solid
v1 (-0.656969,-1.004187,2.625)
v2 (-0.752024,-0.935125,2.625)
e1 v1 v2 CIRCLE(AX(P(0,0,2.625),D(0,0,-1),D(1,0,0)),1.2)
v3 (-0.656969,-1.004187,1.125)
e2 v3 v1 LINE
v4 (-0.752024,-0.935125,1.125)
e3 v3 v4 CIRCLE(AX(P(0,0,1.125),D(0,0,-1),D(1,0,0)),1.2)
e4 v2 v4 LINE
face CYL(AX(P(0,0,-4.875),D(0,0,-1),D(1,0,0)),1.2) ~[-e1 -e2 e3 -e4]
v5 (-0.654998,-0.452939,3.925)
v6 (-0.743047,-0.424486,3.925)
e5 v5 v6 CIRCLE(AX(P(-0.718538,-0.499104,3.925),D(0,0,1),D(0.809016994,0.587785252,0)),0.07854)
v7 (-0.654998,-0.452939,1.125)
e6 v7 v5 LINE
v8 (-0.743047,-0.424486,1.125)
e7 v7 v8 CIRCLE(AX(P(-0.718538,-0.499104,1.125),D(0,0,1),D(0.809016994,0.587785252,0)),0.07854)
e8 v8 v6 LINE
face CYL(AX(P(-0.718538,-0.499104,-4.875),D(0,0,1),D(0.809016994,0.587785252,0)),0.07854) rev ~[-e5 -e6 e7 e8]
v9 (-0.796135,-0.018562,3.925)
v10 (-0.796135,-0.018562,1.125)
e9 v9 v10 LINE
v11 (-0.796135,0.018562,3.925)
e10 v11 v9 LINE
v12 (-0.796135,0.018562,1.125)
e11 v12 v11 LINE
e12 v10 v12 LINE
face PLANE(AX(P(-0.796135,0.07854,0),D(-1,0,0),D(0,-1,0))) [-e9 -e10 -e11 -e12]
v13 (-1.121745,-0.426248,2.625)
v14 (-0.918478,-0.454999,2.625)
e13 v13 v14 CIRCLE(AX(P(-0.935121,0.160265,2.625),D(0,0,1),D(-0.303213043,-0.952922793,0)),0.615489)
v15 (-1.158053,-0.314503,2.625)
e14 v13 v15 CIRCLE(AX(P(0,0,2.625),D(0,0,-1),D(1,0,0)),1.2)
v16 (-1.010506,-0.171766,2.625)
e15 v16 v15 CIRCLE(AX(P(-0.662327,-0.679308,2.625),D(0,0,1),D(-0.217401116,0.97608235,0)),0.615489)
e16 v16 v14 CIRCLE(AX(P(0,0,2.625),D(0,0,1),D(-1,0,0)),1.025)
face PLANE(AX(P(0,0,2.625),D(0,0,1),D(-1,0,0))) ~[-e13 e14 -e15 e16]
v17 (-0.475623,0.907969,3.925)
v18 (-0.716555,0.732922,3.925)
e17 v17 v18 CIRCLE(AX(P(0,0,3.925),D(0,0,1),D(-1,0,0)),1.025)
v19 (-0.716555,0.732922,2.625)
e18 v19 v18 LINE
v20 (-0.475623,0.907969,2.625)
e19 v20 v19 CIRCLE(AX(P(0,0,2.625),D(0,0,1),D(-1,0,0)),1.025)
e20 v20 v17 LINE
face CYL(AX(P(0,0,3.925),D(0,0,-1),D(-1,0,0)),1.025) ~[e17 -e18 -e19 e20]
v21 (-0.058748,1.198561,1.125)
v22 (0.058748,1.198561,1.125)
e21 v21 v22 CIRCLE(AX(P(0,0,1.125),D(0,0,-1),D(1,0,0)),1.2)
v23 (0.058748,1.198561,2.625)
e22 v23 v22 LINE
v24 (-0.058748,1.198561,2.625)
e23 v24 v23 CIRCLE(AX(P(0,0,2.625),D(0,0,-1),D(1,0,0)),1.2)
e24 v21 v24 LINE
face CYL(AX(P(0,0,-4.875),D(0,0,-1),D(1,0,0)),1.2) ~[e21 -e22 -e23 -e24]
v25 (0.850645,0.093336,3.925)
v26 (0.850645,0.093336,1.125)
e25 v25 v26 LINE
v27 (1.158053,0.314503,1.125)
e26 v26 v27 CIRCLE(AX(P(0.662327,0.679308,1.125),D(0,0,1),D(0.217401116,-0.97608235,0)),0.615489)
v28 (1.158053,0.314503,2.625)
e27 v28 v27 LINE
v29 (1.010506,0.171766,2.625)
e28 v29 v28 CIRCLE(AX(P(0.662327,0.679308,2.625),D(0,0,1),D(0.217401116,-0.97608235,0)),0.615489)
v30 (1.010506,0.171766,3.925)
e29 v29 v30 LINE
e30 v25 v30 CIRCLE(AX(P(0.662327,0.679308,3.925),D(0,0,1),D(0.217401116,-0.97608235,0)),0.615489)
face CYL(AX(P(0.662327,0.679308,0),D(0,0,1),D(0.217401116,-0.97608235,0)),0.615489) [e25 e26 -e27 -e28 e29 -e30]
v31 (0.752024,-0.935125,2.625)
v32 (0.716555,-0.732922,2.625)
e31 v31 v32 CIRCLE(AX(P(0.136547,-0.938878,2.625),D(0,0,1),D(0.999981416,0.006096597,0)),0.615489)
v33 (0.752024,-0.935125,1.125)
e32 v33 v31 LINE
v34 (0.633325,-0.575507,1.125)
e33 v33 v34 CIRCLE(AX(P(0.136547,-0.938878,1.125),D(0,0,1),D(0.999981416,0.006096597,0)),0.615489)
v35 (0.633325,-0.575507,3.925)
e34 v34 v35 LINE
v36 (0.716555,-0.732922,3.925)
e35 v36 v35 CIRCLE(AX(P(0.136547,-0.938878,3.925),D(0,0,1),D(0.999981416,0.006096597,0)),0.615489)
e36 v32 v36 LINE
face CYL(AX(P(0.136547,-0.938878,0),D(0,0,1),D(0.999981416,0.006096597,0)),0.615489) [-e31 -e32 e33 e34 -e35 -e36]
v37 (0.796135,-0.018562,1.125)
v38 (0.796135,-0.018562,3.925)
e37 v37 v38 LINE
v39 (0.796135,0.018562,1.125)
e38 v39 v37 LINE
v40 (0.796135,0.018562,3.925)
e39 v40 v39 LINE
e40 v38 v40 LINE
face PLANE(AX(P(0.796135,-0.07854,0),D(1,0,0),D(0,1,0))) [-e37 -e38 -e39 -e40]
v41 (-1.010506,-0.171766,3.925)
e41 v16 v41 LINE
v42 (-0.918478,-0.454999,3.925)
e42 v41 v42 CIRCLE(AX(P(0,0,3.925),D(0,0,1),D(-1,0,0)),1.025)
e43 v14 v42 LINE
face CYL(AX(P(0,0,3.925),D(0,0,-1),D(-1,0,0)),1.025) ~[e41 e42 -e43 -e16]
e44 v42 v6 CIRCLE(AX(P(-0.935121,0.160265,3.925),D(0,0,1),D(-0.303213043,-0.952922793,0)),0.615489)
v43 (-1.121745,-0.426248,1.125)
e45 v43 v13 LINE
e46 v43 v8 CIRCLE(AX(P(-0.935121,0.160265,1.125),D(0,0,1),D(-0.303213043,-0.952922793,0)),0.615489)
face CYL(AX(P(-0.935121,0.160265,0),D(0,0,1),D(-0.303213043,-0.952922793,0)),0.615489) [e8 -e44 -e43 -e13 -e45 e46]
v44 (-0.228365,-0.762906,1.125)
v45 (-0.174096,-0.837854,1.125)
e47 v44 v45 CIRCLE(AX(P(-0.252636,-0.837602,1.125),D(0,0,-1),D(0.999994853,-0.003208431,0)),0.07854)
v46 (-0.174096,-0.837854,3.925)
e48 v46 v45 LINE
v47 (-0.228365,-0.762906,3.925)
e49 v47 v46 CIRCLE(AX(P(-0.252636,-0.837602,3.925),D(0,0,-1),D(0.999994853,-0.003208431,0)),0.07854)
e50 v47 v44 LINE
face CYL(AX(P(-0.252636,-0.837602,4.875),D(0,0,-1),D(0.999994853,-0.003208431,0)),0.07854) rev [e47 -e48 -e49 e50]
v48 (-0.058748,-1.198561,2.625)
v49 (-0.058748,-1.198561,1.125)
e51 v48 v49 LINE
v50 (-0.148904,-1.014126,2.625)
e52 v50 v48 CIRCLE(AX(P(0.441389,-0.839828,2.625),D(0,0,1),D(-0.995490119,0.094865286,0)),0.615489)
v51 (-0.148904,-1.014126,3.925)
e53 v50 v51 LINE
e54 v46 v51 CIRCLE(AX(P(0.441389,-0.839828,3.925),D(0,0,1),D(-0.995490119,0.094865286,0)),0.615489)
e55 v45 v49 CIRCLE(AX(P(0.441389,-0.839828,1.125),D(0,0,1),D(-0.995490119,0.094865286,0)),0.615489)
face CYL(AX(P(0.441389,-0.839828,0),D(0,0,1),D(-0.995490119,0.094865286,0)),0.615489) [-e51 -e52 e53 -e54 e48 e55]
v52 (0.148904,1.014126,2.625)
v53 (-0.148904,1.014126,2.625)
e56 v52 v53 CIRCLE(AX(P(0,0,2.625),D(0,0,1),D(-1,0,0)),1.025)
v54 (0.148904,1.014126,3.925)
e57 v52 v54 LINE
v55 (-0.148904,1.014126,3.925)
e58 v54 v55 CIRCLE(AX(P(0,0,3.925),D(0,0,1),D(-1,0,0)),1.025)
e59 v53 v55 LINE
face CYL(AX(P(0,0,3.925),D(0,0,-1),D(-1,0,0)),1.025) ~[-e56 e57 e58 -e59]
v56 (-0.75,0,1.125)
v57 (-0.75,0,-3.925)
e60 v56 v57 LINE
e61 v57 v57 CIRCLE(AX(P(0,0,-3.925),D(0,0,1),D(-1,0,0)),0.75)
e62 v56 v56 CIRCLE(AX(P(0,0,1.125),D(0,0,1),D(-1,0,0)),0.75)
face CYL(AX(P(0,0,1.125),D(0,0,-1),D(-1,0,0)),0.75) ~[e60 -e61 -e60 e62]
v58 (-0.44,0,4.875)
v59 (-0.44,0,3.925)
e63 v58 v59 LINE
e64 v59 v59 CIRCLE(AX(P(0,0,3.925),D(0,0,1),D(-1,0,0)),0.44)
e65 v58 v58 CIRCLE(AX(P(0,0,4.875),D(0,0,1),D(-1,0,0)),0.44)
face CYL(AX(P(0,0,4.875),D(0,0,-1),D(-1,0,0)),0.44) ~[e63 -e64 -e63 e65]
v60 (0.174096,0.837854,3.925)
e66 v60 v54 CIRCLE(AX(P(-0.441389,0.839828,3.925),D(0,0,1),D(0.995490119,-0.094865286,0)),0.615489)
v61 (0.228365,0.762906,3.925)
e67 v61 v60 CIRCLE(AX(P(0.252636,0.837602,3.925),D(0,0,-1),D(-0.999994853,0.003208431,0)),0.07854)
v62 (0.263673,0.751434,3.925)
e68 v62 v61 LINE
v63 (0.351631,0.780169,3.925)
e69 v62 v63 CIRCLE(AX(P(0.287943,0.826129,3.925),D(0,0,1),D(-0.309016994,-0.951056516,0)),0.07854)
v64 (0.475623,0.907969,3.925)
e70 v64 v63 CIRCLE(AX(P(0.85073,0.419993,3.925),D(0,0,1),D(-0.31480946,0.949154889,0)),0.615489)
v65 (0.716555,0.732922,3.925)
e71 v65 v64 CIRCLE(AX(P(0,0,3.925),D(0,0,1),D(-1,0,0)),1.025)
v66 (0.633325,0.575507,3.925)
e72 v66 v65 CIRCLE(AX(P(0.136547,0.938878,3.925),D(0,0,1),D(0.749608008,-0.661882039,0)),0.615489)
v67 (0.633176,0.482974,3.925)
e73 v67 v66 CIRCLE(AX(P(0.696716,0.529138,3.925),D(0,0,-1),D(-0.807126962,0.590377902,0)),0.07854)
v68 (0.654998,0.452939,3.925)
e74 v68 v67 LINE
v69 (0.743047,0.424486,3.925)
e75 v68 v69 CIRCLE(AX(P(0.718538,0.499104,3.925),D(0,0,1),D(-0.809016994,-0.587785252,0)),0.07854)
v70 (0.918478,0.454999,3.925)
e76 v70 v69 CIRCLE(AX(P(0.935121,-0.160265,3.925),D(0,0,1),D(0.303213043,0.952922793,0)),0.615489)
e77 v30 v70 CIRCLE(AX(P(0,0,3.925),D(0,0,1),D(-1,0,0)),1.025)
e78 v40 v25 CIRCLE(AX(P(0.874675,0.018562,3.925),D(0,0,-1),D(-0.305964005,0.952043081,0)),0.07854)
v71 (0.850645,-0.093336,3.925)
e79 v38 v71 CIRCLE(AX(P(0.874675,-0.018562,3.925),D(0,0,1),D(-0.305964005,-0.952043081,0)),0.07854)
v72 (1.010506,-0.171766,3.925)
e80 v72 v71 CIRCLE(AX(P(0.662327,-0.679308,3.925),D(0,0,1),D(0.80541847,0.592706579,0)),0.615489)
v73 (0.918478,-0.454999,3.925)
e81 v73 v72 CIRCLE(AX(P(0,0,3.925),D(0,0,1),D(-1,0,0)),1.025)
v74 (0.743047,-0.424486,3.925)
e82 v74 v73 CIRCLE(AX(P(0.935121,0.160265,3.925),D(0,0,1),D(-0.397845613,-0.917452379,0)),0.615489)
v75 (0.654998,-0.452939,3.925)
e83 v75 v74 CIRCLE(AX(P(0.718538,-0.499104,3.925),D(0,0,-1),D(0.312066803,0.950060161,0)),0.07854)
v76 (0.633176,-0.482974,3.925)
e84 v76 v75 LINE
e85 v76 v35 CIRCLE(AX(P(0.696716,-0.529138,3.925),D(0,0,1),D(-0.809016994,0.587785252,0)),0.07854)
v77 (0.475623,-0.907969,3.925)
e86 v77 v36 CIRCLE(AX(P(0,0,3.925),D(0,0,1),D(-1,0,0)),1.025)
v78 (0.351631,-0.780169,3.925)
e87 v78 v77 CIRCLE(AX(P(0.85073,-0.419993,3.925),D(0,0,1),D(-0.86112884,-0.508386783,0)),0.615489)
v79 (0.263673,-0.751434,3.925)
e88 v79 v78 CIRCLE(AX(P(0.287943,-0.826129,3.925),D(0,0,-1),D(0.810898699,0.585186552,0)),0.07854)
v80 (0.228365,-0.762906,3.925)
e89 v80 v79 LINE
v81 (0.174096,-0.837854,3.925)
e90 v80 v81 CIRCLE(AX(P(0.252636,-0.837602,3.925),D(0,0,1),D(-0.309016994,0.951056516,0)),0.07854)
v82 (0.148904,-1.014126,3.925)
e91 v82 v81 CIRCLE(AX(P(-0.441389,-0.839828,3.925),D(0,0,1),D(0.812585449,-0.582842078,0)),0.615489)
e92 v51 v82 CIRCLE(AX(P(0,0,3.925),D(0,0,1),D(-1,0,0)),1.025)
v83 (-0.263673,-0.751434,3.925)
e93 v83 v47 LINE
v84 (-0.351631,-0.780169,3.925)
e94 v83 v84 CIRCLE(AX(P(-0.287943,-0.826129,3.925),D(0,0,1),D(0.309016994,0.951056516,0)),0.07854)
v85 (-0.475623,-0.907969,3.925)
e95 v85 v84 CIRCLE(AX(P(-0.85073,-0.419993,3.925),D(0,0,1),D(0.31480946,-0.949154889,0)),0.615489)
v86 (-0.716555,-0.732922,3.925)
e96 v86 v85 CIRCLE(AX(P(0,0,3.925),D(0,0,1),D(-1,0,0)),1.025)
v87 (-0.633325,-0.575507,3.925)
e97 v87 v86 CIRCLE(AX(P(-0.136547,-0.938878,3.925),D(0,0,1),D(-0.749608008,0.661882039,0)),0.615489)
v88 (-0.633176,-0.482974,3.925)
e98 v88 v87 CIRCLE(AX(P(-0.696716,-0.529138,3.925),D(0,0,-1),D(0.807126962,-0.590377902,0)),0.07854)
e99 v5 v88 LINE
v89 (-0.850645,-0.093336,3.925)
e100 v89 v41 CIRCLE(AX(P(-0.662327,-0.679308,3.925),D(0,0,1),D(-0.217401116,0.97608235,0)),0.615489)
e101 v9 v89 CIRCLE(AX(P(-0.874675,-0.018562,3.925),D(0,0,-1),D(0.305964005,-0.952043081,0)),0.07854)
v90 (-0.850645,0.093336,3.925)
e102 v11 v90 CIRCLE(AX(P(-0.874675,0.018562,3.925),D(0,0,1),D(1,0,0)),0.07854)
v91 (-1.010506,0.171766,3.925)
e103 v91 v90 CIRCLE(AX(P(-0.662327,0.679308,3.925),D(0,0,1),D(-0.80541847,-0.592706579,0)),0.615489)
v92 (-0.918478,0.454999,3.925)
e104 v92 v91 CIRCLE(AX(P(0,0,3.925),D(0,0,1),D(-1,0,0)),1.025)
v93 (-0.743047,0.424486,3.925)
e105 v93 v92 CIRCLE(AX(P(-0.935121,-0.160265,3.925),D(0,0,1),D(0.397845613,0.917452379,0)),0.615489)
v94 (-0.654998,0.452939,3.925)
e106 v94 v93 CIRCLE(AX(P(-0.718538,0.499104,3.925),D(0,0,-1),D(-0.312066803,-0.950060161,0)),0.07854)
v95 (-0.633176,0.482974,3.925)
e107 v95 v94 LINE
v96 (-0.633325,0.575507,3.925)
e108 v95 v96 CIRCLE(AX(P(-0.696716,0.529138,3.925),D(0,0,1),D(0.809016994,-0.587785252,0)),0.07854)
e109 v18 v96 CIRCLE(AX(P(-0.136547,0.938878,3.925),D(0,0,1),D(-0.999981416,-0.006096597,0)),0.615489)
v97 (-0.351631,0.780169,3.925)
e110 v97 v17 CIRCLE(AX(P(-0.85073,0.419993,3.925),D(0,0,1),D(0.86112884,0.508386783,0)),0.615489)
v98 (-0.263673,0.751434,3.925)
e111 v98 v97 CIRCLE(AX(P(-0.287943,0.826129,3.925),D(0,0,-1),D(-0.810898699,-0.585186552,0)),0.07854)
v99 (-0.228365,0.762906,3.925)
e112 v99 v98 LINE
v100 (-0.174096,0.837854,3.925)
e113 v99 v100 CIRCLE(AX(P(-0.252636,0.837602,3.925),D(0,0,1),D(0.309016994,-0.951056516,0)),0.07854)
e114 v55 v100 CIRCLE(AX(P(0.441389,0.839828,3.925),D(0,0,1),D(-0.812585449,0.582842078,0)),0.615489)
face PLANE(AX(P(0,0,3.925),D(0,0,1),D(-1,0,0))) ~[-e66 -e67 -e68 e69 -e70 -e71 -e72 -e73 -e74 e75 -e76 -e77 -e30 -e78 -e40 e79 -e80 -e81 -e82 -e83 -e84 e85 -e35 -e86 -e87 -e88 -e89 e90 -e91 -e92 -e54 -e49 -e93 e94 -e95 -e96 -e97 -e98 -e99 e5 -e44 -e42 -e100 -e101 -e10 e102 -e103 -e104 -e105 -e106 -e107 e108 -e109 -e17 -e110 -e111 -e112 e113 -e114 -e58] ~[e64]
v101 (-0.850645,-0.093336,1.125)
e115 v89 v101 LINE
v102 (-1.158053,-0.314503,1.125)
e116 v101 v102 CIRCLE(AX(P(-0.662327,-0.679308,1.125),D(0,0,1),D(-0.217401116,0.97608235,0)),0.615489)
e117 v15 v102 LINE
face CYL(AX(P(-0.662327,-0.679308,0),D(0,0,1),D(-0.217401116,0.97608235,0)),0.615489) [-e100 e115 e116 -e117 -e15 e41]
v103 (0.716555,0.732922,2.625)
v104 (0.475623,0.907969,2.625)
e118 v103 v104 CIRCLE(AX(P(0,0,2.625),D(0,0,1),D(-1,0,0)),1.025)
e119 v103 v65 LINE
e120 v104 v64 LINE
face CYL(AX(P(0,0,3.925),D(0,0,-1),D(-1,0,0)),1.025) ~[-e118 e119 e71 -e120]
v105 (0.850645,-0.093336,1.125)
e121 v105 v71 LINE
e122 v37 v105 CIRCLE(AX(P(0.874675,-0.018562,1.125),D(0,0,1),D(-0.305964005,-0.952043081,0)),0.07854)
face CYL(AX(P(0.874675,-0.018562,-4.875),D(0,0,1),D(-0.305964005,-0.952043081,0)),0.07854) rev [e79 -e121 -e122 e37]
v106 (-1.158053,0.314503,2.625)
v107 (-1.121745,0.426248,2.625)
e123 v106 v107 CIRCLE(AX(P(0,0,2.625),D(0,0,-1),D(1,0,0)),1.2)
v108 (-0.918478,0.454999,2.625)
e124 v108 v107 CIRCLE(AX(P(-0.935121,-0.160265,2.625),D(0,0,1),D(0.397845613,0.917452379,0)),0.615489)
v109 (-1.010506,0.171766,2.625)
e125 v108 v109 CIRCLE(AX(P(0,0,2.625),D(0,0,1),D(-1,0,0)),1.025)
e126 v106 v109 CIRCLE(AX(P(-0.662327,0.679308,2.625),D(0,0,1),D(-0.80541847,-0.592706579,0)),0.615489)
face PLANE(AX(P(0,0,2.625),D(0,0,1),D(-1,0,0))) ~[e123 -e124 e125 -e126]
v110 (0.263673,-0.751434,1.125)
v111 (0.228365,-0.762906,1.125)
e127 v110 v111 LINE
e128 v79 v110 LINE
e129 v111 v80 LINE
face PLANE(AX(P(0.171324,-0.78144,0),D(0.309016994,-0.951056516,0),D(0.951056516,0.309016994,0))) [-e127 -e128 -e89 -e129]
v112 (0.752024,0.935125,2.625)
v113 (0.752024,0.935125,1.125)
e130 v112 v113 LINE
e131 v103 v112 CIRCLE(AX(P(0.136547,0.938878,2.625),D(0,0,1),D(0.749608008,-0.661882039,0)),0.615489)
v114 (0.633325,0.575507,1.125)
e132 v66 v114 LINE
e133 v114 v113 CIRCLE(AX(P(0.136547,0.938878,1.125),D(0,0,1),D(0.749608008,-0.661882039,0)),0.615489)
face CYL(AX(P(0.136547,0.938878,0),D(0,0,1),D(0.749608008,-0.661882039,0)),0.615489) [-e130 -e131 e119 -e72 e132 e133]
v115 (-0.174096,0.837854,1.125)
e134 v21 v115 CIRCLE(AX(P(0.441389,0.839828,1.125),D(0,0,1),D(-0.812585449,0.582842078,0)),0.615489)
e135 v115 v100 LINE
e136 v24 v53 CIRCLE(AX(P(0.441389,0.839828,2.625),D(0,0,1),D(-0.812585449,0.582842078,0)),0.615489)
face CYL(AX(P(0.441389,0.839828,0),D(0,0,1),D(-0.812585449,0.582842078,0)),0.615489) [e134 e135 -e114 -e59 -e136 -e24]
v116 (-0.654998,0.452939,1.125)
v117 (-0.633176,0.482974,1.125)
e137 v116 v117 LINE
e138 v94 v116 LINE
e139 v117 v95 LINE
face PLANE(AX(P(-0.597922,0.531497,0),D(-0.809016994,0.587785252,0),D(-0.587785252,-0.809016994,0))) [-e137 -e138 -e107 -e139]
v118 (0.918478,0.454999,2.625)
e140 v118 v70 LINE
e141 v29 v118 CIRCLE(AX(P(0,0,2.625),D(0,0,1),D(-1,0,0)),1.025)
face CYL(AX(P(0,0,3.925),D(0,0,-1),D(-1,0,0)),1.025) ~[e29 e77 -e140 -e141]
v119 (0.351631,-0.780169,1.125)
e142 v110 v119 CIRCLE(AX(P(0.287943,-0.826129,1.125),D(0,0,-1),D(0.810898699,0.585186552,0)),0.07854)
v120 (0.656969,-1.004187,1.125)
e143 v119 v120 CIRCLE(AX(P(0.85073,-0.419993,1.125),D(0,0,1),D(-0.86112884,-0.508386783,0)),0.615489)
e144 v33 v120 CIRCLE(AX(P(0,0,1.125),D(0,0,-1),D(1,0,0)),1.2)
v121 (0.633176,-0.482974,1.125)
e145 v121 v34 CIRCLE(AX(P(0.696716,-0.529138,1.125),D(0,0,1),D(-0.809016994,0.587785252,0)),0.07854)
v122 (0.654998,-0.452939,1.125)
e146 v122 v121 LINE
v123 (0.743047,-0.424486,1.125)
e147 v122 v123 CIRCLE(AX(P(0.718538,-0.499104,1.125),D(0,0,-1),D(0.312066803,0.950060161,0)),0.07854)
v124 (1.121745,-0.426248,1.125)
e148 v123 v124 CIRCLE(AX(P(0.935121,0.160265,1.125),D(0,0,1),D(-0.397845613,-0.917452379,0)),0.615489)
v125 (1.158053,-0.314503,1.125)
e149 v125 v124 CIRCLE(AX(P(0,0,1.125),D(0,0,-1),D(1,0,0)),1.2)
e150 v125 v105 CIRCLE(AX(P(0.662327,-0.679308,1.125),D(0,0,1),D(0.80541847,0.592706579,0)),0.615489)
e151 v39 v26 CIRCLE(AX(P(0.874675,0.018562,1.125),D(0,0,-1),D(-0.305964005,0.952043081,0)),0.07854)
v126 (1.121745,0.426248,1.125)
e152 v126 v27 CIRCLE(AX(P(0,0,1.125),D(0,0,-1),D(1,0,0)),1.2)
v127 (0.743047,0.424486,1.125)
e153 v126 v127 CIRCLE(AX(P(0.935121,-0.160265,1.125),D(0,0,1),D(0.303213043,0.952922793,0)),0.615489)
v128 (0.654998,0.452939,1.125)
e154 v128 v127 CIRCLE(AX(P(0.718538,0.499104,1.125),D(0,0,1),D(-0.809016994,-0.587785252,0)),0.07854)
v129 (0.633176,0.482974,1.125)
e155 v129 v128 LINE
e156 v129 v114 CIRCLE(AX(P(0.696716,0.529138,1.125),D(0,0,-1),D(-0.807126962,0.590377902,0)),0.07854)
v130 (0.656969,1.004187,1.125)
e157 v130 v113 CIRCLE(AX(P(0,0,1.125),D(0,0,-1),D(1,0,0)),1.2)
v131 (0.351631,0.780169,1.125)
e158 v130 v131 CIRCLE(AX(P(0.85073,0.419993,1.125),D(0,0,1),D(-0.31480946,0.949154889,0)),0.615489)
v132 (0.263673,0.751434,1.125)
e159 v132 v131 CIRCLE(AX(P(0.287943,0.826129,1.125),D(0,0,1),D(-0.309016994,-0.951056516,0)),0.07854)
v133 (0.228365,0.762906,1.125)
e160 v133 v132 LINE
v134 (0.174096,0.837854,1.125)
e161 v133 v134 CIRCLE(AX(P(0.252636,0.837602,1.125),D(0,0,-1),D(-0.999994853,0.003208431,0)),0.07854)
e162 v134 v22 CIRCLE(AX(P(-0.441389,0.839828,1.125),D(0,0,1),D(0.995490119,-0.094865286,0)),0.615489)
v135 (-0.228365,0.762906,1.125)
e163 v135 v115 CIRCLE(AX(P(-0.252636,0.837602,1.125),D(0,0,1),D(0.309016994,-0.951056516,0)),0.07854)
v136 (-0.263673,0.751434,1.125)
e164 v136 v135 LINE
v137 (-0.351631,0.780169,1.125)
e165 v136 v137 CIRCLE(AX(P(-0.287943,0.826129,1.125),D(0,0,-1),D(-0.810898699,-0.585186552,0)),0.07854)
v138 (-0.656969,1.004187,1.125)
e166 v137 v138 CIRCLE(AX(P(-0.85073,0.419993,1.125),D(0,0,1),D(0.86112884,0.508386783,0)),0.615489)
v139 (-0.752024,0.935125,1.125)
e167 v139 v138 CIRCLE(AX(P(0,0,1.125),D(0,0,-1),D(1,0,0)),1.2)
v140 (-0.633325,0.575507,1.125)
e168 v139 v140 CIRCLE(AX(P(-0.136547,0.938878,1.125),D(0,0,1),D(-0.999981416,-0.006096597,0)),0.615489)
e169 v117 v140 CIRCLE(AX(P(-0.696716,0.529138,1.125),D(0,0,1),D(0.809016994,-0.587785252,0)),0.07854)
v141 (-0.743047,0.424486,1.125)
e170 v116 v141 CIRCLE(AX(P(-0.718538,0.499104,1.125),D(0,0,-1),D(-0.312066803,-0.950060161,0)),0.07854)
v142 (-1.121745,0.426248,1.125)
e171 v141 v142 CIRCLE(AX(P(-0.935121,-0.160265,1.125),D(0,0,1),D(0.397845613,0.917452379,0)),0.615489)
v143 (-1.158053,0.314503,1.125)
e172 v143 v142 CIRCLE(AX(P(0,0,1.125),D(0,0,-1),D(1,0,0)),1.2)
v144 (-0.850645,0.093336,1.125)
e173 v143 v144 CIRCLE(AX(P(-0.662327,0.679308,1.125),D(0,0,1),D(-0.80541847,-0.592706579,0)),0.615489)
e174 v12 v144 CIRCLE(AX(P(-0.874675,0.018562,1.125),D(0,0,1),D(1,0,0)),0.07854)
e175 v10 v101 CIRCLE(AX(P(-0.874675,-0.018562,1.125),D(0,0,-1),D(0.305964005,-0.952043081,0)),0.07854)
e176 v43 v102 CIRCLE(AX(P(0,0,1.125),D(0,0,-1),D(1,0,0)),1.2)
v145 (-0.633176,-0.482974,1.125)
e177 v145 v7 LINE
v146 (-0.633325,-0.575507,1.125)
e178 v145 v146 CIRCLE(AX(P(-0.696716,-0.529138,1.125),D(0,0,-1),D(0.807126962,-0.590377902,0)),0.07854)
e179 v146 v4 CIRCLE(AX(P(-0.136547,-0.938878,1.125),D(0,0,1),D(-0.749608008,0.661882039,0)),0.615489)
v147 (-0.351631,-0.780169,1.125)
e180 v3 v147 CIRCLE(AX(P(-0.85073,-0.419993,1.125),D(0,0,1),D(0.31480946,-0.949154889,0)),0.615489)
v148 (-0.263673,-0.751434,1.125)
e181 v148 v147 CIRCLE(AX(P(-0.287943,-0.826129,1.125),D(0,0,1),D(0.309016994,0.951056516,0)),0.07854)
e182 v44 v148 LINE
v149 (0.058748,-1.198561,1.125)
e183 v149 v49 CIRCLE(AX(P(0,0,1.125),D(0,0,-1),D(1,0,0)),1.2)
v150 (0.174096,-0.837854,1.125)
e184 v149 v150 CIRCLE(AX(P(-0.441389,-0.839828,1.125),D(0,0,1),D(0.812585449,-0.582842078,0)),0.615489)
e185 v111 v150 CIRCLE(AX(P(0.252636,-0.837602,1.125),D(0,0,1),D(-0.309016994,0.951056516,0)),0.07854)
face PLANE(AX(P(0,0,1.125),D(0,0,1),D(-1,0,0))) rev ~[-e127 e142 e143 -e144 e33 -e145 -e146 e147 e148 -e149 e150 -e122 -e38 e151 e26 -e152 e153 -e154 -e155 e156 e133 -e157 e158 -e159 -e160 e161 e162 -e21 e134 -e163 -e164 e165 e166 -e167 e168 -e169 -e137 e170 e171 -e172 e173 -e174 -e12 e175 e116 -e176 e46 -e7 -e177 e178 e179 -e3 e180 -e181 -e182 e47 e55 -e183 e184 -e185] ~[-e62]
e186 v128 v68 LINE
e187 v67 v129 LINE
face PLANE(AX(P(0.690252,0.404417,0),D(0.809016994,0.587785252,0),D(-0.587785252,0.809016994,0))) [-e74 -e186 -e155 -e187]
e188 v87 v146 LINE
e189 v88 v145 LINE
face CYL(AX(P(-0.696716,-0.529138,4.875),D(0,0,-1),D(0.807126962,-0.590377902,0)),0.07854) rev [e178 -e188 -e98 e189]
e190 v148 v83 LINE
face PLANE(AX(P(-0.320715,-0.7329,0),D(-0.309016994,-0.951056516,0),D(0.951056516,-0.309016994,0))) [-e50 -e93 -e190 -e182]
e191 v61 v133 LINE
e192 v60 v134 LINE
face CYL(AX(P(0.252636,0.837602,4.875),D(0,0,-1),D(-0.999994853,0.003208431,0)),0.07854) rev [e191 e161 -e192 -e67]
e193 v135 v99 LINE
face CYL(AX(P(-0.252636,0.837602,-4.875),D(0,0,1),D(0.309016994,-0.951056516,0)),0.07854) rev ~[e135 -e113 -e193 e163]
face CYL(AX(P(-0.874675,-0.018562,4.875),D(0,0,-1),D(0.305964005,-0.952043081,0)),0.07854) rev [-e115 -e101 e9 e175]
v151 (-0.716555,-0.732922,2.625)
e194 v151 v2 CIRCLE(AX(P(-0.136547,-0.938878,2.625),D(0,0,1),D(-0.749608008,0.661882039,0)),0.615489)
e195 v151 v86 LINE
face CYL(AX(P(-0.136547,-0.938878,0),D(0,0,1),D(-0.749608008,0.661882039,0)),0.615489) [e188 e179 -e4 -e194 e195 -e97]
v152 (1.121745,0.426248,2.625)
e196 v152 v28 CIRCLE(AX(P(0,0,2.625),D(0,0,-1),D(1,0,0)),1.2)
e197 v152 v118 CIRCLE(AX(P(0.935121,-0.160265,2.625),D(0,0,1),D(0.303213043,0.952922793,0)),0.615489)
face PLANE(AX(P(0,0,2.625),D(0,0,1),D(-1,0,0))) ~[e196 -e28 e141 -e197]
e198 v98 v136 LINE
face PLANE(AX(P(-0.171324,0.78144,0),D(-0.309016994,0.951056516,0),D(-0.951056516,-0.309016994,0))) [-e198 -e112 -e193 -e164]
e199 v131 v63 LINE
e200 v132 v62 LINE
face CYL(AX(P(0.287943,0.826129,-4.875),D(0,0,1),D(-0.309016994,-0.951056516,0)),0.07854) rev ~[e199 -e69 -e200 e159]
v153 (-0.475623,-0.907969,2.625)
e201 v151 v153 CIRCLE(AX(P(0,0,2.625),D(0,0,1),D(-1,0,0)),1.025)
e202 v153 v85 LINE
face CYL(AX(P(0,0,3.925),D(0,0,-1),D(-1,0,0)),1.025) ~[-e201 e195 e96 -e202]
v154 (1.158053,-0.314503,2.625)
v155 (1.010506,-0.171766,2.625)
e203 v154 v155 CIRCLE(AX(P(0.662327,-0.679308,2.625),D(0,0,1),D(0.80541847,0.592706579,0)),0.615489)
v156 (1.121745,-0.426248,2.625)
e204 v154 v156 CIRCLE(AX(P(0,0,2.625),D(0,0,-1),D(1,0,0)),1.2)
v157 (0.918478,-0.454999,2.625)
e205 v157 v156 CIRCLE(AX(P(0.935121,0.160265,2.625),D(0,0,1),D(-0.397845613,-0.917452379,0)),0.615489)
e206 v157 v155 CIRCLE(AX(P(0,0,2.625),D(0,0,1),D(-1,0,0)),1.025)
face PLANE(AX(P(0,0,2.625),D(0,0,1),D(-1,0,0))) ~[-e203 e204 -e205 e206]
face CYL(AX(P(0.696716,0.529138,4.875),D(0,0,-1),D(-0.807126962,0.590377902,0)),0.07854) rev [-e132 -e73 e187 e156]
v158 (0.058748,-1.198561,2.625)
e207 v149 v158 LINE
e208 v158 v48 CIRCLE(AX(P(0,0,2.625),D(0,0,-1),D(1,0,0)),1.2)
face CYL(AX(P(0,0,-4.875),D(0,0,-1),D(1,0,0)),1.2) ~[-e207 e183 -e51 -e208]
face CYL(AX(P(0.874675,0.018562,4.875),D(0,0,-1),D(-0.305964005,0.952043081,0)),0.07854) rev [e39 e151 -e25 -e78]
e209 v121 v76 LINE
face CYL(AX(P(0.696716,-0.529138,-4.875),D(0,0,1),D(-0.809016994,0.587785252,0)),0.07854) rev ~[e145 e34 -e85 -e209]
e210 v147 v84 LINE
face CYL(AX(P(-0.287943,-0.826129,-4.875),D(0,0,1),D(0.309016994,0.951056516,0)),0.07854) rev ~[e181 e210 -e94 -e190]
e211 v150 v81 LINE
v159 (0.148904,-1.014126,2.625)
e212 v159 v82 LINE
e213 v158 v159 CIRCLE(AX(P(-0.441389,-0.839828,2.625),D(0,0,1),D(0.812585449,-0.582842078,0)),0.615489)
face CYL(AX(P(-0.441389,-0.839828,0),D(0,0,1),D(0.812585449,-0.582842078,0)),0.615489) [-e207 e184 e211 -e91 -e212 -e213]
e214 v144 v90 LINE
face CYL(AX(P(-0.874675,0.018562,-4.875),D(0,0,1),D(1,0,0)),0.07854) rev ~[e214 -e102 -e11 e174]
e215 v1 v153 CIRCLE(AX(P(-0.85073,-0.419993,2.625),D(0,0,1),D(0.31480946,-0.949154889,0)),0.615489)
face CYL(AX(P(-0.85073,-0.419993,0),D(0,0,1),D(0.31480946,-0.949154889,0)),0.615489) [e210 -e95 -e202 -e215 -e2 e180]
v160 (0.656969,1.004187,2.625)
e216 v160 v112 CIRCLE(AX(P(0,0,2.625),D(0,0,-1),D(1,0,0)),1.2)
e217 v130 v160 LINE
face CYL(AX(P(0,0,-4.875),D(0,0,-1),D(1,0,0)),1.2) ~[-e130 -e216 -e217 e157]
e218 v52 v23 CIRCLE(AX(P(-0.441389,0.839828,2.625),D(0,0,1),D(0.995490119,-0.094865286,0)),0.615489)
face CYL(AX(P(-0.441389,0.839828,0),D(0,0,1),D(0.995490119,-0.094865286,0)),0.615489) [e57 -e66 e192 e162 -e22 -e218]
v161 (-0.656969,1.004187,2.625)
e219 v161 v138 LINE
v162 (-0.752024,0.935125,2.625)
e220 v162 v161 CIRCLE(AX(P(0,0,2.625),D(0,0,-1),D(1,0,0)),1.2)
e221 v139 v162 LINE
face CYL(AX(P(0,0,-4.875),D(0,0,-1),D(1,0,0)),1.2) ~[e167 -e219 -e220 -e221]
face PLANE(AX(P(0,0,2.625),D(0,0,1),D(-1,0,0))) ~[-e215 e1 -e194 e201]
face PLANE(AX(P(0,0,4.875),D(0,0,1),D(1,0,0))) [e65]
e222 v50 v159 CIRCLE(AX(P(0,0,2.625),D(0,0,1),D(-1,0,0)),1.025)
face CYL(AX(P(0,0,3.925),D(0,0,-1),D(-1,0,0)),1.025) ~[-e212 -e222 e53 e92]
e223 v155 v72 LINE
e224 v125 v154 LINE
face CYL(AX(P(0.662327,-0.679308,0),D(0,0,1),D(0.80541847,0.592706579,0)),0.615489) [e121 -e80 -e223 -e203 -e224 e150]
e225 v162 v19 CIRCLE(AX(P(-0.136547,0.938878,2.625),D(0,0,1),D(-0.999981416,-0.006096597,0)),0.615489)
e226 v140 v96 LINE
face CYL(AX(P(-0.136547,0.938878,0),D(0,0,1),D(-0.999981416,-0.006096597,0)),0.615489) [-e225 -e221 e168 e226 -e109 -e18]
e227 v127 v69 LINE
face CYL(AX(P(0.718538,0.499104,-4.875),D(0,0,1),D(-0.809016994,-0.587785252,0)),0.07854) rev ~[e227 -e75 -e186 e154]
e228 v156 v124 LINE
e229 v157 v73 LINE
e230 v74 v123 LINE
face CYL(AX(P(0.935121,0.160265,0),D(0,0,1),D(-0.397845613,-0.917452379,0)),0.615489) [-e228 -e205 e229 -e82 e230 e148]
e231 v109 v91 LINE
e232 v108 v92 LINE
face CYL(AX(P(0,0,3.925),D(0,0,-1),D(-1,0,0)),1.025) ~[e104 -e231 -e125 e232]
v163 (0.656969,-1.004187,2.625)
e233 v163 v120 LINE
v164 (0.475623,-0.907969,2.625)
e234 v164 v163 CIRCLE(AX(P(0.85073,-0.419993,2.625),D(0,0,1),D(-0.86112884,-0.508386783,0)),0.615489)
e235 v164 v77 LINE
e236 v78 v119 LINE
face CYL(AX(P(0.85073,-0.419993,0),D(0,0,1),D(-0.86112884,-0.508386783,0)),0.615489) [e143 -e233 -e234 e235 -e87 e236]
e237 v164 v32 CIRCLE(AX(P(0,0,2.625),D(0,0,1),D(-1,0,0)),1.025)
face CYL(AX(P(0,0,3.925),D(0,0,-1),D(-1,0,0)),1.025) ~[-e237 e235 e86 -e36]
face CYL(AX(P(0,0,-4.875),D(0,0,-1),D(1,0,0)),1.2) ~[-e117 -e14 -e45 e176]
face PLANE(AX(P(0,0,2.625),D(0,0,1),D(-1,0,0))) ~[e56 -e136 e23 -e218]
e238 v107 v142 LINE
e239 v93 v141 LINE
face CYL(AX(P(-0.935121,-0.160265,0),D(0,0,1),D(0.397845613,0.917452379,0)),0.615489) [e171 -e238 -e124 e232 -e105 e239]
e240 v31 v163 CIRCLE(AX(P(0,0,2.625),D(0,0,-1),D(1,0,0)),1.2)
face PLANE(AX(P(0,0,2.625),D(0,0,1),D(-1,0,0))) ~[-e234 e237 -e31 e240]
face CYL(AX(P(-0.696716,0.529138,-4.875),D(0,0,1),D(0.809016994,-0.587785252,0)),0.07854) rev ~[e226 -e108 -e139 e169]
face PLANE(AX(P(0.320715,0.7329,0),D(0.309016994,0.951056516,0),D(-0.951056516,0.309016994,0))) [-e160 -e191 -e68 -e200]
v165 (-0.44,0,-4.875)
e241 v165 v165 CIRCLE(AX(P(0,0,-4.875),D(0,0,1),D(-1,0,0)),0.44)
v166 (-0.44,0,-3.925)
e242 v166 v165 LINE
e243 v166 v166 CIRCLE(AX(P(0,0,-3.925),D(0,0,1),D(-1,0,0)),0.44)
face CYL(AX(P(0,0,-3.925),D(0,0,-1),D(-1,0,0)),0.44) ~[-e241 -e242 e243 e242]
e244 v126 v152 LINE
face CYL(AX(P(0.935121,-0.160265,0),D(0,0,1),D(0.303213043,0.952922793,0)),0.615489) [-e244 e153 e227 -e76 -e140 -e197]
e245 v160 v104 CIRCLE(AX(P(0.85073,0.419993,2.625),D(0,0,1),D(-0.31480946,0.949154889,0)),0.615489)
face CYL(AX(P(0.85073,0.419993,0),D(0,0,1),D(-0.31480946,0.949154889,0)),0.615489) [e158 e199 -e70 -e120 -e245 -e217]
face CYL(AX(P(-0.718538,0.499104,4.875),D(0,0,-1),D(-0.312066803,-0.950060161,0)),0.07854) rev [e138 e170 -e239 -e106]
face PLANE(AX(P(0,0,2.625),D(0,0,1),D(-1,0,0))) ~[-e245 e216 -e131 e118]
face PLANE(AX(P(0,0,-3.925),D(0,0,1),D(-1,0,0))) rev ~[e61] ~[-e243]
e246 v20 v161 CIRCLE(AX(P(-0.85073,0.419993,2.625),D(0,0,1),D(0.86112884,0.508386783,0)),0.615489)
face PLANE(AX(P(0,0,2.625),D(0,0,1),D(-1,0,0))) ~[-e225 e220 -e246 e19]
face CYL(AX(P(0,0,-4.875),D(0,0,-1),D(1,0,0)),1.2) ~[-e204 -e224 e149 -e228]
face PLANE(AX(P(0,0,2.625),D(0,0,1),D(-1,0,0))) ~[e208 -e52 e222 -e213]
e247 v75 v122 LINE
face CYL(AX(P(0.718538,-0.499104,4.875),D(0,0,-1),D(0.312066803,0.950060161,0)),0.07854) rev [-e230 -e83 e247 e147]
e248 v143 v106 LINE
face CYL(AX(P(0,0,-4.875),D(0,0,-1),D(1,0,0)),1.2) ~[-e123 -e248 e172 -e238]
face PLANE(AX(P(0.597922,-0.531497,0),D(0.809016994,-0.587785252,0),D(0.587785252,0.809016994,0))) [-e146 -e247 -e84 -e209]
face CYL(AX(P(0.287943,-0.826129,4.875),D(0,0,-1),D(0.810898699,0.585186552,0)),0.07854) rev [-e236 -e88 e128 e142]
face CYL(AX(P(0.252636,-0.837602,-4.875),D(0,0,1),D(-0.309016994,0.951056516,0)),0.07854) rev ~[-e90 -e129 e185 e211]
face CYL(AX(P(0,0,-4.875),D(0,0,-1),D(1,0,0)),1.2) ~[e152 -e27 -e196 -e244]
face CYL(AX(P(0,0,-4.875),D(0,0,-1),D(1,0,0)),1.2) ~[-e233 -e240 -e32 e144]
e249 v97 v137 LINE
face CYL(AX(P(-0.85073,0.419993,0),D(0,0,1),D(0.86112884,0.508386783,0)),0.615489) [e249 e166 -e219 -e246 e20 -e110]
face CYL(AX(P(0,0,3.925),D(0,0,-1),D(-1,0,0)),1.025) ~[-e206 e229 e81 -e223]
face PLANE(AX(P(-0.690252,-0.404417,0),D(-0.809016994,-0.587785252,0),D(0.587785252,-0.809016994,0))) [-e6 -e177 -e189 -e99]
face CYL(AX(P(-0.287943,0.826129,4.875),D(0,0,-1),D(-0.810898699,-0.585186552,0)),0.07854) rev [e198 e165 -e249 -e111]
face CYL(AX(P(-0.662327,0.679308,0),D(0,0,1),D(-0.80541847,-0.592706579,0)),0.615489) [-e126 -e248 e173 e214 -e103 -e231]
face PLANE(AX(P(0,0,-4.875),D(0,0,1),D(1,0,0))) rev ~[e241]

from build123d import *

# Parameters (mm, degrees)
BOSS_EXTRUDE1_DEPTH      = 4.875
BOSS_EXTRUDE1_DEPTH_BACK = 4.875
SKETCH3_R                = 1.2
CUT_EXTRUDE1_DEPTH       = 6.161940042
FILLET1_R                = 0.078539816
CIRPATTERN1_COUNT        = 10
FILLET1_OF_CIRPATTERN1_R = 0.078539816


with BuildPart() as part:
    # Sketch3 → Boss-Extrude1 (new, two sides: drawn at the far end of the back side and taken through both)
    with BuildSketch(Plane.XY.offset(-BOSS_EXTRUDE1_DEPTH_BACK)):
        Circle(SKETCH3_R)
    extrude(amount=BOSS_EXTRUDE1_DEPTH + BOSS_EXTRUDE1_DEPTH_BACK)

    # Sketch4 → Cut-Extrude1 (cut, symmetric)
    with BuildSketch(Plane.XY):
        with BuildLine():
            Line((0.796135351, -0.078539816), (0.796135351, 0.078539816))
            ThreePointArc((0.796135351, 0.078539816), (0.998479062, 0.163721965), (1.158053404, 0.314503282))
            ThreePointArc((1.158053404, 0.314503282), (1.2, 0), (1.158053404, -0.314503282))
            ThreePointArc((1.158053404, -0.314503282), (0.998479062, -0.163721965), (0.796135351, -0.078539816))
        make_face()
    cut_extrude1 = extrude(amount=CUT_EXTRUDE1_DEPTH, both=True, mode=Mode.SUBTRACT)

    # Fillet1
    fillet1_edges = [part.edges().sort_by_distance(p)[0] for p in [
        (0.796135351, 0.078539816, 0),
        (0.796135351, -0.078539816, 0),
    ]]
    fillet(fillet1_edges, radius=FILLET1_R)

    # CirPattern1: Cut-Extrude1 ×10 about axis
    cirpattern1_axis = Axis((0, 0, 0), (0, 0, 1))
    for i in range(1, CIRPATTERN1_COUNT):
        add(cut_extrude1.rotate(cirpattern1_axis, i * 360 / CIRPATTERN1_COUNT), mode=Mode.SUBTRACT)

    # Fillet1 of CirPattern1
    fillet1_of_cirpattern1_edges = [part.edges().sort_by_distance(p)[0] for p in [
        (0.597922483, 0.531496664, 0),
        (0.690251575, 0.404416572, 0),
        (0.171323549, 0.781439851, 0),
        (0.320715157, 0.732899576, 0),
        (-0.320715157, 0.732899576, 0),
        (-0.171323549, 0.781439851, 0),
        (-0.690251575, 0.404416572, 0),
        (-0.597922483, 0.531496664, 0),
        (-0.796135351, -0.078539816, 0),
        (-0.796135351, 0.078539816, 0),
        (-0.597922483, -0.531496664, 0),
        (-0.690251575, -0.404416572, 0),
        (-0.171323549, -0.781439851, 0),
        (-0.320715157, -0.732899576, 0),
        (0.320715157, -0.732899576, 0),
        (0.171323549, -0.781439851, 0),
        (0.690251575, -0.404416572, 0),
        (0.597922483, -0.531496664, 0),
    ]]
    fillet(fillet1_of_cirpattern1_edges, radius=FILLET1_OF_CIRPATTERN1_R)

    # Sketch6 → Cut-Revolve1 (revolve, cut)
    with BuildSketch(Plane(origin=(0, 0, 0), x_dir=(1, 0, 0), z_dir=(0, 1, 0))):
        Polygon((-0.44, 4.875), (-1.3, 4.875), (-1.3, -1.125), (-0.75, -1.125), (-0.75, 3.925), (-0.44, 3.925), align=None)
        Polygon((-1.3, -2.625), (-1.3, -4.875), (-0.44, -4.875), (-0.44, -3.925), (-1.025, -3.925), (-1.025, -2.625), align=None)
    revolve(axis=Axis((0, 0, -6.2826103), (0, 0, 1)), mode=Mode.SUBTRACT)


solid = part.part
